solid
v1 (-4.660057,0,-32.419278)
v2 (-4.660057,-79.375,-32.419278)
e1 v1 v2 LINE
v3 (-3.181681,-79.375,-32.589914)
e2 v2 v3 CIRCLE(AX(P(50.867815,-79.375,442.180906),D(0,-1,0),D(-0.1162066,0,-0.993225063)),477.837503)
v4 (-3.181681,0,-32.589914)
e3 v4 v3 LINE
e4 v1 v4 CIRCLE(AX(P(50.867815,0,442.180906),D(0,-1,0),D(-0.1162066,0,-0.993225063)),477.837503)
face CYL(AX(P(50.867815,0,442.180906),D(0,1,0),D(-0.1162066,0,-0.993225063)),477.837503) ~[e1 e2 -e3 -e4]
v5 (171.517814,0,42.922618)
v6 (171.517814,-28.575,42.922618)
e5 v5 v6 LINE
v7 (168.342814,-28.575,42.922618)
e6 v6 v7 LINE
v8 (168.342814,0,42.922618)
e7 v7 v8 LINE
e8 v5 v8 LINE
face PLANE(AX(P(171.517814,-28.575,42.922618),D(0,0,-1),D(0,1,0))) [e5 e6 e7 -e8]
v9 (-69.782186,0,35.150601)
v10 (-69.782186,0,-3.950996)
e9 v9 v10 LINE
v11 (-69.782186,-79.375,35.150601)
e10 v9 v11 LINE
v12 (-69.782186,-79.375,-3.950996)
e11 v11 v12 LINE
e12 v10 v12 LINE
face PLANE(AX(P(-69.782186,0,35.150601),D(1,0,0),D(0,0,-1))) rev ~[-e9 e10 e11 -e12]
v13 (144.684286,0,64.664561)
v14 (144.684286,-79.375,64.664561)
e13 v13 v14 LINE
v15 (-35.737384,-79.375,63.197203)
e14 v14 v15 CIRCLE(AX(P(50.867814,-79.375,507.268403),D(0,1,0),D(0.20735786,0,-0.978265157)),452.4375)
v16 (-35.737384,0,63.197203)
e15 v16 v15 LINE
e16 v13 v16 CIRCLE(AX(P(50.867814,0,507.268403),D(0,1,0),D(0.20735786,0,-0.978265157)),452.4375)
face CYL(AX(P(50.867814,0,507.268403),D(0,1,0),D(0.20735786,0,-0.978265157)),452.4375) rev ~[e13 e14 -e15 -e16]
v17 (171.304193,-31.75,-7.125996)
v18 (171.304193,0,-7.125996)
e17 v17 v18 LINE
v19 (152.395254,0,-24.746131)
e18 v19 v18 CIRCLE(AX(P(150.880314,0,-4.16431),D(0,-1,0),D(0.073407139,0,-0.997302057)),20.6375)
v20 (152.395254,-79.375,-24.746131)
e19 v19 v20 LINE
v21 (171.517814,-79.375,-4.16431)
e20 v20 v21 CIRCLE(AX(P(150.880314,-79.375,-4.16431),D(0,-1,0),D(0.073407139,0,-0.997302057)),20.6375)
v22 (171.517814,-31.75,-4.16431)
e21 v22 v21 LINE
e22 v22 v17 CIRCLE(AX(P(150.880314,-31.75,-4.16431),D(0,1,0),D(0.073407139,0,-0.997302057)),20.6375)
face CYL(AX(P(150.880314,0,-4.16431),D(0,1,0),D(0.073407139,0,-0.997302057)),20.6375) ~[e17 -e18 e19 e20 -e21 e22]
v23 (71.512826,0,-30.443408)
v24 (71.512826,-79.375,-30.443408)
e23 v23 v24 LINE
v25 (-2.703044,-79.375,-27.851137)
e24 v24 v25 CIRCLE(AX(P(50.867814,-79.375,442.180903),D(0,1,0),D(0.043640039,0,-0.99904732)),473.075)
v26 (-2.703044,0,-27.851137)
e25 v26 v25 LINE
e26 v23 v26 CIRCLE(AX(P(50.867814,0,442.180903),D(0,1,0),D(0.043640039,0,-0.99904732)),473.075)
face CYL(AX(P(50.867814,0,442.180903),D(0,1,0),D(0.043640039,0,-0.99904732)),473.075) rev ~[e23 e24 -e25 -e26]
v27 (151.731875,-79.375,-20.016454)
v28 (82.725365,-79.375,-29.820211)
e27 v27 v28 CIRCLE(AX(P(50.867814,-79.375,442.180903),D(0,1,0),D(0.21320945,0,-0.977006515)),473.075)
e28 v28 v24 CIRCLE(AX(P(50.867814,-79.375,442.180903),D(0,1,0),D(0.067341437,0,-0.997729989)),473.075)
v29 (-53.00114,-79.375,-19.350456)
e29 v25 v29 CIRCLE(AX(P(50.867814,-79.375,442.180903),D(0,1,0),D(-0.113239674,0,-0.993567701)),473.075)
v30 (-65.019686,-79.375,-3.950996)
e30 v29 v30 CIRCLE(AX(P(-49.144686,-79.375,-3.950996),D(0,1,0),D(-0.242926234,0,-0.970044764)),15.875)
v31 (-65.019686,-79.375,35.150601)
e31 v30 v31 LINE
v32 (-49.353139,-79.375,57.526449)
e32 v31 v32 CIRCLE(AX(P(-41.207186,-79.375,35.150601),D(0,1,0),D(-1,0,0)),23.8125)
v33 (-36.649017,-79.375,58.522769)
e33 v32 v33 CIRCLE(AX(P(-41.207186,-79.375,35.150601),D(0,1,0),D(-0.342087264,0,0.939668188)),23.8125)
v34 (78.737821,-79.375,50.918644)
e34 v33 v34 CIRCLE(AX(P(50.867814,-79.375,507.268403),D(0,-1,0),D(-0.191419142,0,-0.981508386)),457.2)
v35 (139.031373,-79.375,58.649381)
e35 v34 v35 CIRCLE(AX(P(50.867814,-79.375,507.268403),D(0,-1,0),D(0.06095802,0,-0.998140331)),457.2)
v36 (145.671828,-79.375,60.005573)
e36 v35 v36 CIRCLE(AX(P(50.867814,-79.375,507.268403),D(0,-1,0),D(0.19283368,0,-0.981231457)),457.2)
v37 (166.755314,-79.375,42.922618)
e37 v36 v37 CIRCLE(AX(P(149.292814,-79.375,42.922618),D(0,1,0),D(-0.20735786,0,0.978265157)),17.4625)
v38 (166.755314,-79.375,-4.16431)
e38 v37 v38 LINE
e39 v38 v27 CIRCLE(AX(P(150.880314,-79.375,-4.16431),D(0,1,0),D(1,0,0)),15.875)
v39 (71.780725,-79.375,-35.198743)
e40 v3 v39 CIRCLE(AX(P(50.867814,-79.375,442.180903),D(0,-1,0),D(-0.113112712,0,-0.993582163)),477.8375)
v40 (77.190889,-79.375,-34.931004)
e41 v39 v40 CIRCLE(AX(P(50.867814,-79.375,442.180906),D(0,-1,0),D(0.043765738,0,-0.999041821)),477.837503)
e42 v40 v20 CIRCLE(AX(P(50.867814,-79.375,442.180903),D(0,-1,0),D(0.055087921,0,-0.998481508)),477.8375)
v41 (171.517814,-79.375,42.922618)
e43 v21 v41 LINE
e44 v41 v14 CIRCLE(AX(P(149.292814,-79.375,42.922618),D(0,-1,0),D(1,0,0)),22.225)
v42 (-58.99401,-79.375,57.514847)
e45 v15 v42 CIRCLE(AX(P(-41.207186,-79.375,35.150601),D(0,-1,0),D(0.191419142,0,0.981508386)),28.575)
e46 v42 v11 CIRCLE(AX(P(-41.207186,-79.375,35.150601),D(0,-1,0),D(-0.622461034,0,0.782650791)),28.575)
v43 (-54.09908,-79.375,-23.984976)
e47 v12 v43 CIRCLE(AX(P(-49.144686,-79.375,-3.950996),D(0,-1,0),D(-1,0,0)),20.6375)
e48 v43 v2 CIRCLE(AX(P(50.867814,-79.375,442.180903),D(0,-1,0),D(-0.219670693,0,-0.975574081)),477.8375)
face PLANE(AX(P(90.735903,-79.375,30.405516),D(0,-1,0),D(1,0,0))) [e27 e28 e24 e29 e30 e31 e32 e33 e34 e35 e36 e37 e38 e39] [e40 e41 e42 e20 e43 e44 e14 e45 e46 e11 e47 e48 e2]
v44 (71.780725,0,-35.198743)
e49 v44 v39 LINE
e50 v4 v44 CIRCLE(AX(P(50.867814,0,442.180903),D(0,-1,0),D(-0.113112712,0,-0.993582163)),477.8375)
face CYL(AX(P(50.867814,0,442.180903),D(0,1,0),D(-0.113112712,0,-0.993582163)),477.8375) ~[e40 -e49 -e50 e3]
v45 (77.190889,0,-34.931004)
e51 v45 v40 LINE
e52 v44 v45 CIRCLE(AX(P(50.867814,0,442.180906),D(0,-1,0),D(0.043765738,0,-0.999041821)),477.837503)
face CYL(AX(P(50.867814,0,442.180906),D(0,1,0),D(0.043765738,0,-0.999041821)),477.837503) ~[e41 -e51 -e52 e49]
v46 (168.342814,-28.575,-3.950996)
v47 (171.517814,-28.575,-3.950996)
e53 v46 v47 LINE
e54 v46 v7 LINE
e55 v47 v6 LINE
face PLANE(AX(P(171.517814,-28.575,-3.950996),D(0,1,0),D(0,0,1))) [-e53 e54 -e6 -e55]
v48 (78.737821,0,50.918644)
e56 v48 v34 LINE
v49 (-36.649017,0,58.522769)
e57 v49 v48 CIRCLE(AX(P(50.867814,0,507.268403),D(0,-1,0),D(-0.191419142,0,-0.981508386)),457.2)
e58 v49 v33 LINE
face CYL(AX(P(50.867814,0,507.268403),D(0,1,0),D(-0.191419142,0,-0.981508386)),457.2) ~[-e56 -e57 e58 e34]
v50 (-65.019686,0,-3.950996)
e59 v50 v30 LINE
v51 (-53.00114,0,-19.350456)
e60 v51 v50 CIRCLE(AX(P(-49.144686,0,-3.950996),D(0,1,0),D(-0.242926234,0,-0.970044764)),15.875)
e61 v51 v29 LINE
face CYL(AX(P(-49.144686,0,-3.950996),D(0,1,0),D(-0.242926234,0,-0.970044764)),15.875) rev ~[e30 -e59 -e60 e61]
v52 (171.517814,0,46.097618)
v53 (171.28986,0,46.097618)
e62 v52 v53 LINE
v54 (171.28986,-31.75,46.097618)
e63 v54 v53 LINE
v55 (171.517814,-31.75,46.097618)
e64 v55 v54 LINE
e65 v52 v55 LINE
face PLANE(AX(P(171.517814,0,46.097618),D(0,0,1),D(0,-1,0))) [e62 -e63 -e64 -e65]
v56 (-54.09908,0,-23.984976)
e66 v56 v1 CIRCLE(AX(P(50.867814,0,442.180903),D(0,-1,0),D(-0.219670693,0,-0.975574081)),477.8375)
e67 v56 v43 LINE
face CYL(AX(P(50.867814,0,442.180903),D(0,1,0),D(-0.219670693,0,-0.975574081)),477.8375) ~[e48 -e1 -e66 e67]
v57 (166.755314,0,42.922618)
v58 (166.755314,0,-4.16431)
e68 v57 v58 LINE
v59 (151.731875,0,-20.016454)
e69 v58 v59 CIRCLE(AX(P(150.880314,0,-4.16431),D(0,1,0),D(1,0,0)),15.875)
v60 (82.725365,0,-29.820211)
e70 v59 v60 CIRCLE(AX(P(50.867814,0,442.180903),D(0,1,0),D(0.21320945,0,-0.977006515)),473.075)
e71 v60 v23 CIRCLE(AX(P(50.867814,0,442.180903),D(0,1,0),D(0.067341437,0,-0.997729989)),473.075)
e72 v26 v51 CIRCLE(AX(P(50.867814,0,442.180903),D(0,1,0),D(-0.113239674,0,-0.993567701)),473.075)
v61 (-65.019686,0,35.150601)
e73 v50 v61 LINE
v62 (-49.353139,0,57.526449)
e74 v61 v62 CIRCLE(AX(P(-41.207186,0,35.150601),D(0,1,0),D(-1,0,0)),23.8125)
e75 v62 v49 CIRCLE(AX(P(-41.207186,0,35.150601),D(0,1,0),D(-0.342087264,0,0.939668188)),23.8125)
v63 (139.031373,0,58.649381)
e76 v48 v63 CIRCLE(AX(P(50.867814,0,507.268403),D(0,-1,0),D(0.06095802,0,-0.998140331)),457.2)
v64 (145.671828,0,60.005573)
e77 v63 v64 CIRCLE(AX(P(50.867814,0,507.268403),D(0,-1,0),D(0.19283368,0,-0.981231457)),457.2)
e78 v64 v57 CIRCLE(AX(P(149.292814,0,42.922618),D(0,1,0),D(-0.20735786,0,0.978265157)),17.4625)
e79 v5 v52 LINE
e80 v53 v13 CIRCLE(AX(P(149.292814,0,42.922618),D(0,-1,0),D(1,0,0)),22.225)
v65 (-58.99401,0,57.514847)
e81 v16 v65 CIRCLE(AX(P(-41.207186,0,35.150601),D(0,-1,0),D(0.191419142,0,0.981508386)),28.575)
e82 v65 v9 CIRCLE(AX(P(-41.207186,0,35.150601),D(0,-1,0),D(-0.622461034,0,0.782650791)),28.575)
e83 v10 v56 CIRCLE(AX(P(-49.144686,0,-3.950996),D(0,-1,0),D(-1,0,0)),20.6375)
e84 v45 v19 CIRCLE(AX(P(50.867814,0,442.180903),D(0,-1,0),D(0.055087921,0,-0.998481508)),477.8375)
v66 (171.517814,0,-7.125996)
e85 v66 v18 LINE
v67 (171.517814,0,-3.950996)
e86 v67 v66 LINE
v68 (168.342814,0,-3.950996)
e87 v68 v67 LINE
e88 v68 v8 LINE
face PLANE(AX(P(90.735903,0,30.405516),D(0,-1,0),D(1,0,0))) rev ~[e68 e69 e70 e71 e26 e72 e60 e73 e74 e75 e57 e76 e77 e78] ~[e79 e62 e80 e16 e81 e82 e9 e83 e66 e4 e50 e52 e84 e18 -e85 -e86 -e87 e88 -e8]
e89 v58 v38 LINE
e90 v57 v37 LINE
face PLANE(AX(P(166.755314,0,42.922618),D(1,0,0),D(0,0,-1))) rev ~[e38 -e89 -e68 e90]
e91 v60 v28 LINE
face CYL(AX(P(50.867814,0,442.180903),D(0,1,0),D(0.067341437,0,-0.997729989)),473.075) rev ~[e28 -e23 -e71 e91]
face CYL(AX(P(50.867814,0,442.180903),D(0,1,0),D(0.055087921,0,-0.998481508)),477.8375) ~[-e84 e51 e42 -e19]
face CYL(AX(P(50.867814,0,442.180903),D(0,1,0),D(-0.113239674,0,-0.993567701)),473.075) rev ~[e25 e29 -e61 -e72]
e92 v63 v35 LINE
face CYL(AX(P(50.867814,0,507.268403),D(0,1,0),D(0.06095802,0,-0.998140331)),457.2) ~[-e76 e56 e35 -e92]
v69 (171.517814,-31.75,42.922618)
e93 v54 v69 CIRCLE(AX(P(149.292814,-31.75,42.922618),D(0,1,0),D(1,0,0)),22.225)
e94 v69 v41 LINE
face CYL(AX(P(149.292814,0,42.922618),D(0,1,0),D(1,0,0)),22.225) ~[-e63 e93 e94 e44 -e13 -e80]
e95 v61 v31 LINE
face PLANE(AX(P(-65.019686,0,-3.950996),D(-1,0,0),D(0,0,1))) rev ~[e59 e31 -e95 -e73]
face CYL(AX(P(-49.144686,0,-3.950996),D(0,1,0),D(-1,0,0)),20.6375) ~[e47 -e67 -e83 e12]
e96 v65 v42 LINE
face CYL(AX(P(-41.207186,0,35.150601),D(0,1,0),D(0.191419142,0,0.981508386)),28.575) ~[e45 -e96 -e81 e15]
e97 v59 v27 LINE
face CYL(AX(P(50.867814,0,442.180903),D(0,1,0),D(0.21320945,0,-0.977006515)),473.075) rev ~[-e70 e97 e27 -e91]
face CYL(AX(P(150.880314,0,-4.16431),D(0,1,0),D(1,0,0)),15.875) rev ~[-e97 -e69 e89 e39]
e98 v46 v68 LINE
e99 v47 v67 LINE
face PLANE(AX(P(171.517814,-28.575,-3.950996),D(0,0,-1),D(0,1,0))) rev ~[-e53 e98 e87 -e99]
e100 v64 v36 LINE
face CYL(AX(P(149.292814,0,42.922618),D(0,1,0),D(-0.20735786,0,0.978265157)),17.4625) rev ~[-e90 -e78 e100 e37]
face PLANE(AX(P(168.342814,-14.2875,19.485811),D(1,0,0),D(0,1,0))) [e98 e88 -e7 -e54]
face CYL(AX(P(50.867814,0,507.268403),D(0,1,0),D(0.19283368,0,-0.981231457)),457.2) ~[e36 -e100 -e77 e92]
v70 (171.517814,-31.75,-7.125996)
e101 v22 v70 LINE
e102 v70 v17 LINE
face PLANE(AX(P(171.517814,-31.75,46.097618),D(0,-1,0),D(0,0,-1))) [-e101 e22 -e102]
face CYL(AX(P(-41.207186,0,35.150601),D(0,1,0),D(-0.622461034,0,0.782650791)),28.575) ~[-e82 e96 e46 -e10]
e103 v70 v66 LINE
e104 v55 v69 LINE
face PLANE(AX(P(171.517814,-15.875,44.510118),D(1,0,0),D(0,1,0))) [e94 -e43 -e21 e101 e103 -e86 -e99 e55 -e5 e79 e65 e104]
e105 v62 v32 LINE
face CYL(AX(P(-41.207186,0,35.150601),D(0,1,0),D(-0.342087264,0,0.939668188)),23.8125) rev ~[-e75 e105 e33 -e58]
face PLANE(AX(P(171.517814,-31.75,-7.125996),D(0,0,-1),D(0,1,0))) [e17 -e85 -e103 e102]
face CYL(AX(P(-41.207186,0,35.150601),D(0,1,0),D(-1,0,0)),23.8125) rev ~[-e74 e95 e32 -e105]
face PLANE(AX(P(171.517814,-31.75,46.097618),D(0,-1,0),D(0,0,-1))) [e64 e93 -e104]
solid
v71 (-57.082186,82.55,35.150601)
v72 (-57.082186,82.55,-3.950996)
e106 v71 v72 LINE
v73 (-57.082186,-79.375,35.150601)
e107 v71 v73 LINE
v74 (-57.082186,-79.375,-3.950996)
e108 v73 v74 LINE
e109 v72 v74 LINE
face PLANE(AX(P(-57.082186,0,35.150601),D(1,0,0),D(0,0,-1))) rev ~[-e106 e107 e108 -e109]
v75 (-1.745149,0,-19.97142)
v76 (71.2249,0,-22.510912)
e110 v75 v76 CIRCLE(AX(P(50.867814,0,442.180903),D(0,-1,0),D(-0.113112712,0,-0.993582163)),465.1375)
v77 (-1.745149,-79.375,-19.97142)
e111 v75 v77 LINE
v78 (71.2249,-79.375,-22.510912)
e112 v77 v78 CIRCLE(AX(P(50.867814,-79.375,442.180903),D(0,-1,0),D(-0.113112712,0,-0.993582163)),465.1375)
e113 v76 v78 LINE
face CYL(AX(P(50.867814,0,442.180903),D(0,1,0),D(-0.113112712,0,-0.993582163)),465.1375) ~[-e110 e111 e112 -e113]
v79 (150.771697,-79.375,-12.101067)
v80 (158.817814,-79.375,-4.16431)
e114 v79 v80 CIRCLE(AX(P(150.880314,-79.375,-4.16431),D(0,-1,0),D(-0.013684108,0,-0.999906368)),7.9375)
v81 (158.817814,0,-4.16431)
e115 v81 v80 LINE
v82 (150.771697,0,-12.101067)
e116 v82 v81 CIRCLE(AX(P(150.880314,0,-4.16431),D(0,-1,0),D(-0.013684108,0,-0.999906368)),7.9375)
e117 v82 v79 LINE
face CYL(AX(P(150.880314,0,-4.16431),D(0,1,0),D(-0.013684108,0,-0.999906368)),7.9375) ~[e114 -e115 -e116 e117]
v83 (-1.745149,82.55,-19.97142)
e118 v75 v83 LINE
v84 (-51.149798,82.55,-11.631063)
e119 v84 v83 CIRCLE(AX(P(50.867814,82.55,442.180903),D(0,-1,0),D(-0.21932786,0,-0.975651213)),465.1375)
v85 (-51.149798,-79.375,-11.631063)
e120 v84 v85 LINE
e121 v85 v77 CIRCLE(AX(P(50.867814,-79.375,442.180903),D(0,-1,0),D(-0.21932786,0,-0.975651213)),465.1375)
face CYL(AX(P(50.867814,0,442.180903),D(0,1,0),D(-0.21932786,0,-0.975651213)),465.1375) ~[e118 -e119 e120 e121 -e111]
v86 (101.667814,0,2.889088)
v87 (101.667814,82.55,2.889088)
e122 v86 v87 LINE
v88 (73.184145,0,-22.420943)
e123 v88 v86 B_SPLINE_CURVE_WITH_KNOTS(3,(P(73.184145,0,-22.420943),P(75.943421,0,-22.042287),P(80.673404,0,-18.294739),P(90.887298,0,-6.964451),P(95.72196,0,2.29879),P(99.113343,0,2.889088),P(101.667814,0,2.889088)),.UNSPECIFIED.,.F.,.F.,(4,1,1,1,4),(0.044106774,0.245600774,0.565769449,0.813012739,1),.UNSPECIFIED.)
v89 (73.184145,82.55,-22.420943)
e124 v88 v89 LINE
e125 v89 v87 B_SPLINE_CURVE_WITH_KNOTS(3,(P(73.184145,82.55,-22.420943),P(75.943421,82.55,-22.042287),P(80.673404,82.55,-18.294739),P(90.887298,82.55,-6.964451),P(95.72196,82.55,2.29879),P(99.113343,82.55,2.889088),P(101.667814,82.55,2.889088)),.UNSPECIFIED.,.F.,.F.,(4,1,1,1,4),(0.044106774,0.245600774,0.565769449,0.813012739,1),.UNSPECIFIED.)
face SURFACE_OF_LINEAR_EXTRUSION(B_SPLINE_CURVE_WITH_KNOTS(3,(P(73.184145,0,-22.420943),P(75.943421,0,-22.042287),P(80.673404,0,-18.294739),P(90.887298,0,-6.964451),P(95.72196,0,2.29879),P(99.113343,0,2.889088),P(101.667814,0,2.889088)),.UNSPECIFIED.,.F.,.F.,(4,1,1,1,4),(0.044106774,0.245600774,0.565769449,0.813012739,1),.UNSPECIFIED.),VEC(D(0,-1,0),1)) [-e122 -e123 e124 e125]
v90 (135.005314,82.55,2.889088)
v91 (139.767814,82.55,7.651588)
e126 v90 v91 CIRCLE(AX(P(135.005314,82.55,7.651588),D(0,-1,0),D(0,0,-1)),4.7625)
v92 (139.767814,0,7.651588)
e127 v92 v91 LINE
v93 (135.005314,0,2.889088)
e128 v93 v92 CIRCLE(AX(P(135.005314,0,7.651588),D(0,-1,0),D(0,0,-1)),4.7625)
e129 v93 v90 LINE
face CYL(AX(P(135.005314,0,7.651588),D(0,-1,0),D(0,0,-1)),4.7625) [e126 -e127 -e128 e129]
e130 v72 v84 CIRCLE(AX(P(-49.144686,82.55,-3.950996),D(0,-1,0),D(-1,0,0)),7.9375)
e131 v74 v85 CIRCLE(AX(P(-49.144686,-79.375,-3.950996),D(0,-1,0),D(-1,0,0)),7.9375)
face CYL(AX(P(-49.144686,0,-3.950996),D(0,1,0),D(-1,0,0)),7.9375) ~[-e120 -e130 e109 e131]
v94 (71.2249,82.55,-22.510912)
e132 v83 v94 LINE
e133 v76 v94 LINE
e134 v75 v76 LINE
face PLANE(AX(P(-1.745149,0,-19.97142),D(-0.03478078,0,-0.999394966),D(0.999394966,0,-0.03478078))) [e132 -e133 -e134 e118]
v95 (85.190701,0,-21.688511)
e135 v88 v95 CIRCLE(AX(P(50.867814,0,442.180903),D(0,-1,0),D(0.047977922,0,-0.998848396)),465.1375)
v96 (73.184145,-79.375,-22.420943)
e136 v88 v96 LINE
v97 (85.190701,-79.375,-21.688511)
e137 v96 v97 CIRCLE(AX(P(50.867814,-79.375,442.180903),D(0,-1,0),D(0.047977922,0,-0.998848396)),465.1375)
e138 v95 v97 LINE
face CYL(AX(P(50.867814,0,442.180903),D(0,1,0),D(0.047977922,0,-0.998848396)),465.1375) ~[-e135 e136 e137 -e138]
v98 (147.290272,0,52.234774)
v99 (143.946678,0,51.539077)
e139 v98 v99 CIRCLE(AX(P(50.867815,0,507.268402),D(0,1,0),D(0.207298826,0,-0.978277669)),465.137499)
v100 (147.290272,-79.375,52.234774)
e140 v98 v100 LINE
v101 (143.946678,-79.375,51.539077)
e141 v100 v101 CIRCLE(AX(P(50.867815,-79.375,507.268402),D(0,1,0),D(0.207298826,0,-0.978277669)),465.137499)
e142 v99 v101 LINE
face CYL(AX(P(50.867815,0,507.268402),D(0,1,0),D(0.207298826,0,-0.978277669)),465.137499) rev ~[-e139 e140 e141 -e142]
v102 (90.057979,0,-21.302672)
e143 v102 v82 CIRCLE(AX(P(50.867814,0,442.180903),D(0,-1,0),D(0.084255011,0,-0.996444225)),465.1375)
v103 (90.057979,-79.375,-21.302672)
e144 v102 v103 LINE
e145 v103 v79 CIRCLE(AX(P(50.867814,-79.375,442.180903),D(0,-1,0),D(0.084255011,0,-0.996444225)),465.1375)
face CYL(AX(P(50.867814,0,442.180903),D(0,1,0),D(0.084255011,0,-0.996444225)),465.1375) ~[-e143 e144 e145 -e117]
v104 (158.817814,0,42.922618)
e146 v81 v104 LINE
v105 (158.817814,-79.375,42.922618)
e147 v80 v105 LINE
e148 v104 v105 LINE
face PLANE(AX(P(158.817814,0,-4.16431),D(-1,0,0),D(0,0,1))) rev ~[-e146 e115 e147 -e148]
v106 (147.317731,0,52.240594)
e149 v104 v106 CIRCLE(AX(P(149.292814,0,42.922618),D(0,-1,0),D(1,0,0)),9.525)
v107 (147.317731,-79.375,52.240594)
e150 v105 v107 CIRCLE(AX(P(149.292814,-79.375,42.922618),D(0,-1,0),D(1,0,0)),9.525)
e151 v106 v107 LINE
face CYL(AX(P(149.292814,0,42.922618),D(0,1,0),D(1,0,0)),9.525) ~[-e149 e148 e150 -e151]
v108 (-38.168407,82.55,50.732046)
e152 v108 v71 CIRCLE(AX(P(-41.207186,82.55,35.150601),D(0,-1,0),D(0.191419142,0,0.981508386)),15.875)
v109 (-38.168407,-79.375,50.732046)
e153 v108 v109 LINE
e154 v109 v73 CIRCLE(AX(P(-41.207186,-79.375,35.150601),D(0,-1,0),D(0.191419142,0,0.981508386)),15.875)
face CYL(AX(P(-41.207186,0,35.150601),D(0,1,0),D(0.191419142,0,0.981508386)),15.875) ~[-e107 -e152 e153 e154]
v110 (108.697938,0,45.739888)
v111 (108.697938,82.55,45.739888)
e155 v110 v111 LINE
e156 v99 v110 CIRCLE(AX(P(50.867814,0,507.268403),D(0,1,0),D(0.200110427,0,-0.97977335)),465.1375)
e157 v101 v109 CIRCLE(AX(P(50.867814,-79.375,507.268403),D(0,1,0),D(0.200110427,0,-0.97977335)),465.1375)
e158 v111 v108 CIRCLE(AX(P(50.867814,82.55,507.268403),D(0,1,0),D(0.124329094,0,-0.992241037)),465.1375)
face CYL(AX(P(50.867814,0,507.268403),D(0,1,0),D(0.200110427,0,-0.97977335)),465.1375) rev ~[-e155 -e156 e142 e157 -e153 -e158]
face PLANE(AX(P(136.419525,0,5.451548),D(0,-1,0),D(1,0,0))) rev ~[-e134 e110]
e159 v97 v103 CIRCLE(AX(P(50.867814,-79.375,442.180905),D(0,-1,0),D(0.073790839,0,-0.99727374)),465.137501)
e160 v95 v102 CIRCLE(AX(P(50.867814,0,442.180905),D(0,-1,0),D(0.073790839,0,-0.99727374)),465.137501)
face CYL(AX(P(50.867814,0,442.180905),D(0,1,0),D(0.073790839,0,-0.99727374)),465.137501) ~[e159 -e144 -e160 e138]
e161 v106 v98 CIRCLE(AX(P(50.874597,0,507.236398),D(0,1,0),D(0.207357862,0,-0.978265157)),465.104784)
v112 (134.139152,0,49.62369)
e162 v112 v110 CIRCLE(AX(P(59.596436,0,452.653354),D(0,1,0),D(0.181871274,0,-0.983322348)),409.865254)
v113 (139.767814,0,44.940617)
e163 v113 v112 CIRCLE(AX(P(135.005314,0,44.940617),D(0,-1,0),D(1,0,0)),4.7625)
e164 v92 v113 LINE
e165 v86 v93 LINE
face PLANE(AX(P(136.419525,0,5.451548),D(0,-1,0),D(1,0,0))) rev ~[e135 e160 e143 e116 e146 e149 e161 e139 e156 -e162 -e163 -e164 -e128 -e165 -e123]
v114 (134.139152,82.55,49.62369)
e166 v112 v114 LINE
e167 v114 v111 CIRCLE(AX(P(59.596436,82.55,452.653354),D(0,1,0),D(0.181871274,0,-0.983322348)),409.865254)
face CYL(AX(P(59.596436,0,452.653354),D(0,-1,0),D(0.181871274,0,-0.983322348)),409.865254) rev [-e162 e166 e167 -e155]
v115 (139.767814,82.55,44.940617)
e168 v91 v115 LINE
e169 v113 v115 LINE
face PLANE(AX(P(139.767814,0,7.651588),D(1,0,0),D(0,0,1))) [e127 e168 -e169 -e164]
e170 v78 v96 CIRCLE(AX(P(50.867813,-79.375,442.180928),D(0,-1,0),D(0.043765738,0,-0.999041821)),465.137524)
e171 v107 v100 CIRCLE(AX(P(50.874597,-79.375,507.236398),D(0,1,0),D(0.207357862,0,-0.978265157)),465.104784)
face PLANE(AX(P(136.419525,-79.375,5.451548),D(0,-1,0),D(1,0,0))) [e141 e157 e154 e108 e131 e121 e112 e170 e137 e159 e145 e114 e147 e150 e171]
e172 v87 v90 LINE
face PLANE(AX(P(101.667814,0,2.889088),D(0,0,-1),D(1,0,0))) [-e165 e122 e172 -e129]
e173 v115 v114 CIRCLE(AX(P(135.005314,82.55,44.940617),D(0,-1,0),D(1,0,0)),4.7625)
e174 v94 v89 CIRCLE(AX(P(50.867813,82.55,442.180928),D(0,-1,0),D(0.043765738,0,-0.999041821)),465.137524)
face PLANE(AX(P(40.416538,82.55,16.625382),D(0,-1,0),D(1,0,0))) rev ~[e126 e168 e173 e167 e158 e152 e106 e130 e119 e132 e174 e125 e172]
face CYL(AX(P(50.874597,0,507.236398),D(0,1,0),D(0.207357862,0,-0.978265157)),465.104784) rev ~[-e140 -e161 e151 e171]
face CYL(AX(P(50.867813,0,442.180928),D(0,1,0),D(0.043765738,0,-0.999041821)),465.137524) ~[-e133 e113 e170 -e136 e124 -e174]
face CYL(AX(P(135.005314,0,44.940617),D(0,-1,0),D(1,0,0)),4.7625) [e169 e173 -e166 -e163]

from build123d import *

# Parameters (mm, degrees)
F1_DEPTH = 82.55
F2_DEPTH = 79.375
F3_DEPTH = 79.375
F4_W     = 28.575
F4_H     = 46.8736138582
F5_DEPTH = 3.175
F4_W_2   = 31.75
F4_H_2   = 2.9616859944
F6_DEPTH = 2.54


with BuildPart() as f1:
    # F0 (on Front) → F1 (new body)
    with BuildSketch(Plane.XZ):
        with BuildLine():
            ThreePointArc((-38.1684067206, 50.7320462984), (-51.3011196758, 47.4032787363), (-57.0821855985, 35.1506006681))
            Line((-57.0821855985, 35.1506006681), (-57.0821855985, -3.9509958427))
            ThreePointArc((-57.0821855985, -3.9509958427), (-55.426384653, -8.8032286523), (-51.1497980108, -11.6310629299))
            ThreePointArc((-51.1497980108, -11.6310629299), (-26.559856165, -16.4669461082), (-1.7451494661, -19.9714200409))
            Line((-1.7451494661, -19.9714200409), (71.2249001265, -22.5109117746))
            ThreePointArc((71.2249001265, -22.5109117746), (72.2045700448, -22.4669599202), (73.1841451216, -22.4209427141))
            add(Edge.make_bspline(
                [(73.1841451216, -22.4209427141), (75.9434207871, -22.0422865359), (80.6734041506, -18.2947392446), (90.8872982521, -6.9644507778), (95.7219598854, 2.2987896539), (99.1133427614, 2.8890882254), (101.6678144015, 2.8890882254)],
                knots=[0.0441067744, 0.0441067744, 0.0441067744, 0.0441067744, 0.2456007741, 0.565769449, 0.8130127393, 1, 1, 1, 1], degree=3))
            Line((101.6678144015, 2.8890882254), (135.0053144015, 2.8890882254))
            ThreePointArc((135.0053144015, 2.8890882254), (138.3729104469, 4.28399218), (139.7678144015, 7.6515882254))
            Line((139.7678144015, 7.6515882254), (139.7678144015, 44.94061737))
            ThreePointArc((139.7678144015, 44.94061737), (138.0513208027, 48.601662474), (134.1391524576, 49.6236900511))
            ThreePointArc((134.1391524576, 49.6236900511), (121.4490364743, 47.4820539253), (108.6979382545, 45.7398877005))
            ThreePointArc((108.6979382545, 45.7398877005), (35.0663733736, 42.3993804581), (-38.1684067206, 50.7320462984))
        make_face()
    extrude(amount=-F1_DEPTH)

    # F0 (on Front) → F2 (join)
    with BuildSketch(Plane.XZ):
        with BuildLine():
            ThreePointArc((147.3177307895, 52.2405936393), (147.3040014388, 52.2376837155), (147.2902720004, 52.234774206))
            ThreePointArc((147.2902720004, 52.234774206), (148.7826730727, 48.7227814214), (149.2922567745, 44.9410253836))
            Line((149.2922567745, 44.9410253836), (149.2922567745, 7.651996239))
            ThreePointArc((149.2922567745, 7.651996239), (145.1075449107, -2.4507918972), (135.0047567745, -6.635503761))
            Line((135.0047567745, -6.635503761), (102.1617779669, -6.635503761))
            ThreePointArc((102.1617779669, -6.635503761), (101.7226719352, -6.7408371438), (101.3791365615, -7.0339116663))
            add(Edge.make_bspline(
                [(90.05797947, -21.3026723511), (91.3235592577, -19.9245232349), (94.9091214249, -16.0037133084), (98.8124235031, -10.5114004565), (100.7070874629, -7.957457618), (101.3791365615, -7.0339116663)],
                knots=[0.5378357414, 0.5378357414, 0.5378357414, 0.5378357414, 0.6467666082, 0.855418257, 0.9817631457, 0.9817631457, 0.9817631457, 0.9817631457], degree=3))
            ThreePointArc((90.05797947, -21.3026723511), (120.5668523927, -17.704884738), (150.7716967973, -12.1010666461))
            ThreePointArc((150.7716967973, -12.1010666461), (156.4544400736, -9.8152415628), (158.8178144015, -4.1643098484))
            Line((158.8178144015, -4.1643098484), (158.8178144015, 42.9226180155))
            ThreePointArc((158.8178144015, 42.9226180155), (155.2891863711, 50.3232361115), (147.3177307895, 52.2405936393))
        make_face()
        with BuildLine():
            ThreePointArc((-38.1684067206, 50.7320462984), (-51.3011196758, 47.4032787363), (-57.0821855985, 35.1506006681))
            Line((-57.0821855985, 35.1506006681), (-57.0821855985, -3.9509958427))
            ThreePointArc((-57.0821855985, -3.9509958427), (-55.426384653, -8.8032286523), (-51.1497980108, -11.6310629299))
            ThreePointArc((-51.1497980108, -11.6310629299), (-26.559856165, -16.4669461082), (-1.7451494661, -19.9714200409))
            Line((-1.7451494661, -19.9714200409), (71.2249001265, -22.5109117746))
            ThreePointArc((71.2249001265, -22.5109117746), (72.2045700448, -22.4669599202), (73.1841451216, -22.4209427141))
            add(Edge.make_bspline(
                [(73.1841451216, -22.4209427141), (75.9434207871, -22.0422865359), (80.6734041506, -18.2947392446), (90.8872982521, -6.9644507778), (95.7219598854, 2.2987896539), (99.1133427614, 2.8890882254), (101.6678144015, 2.8890882254)],
                knots=[0.0441067744, 0.0441067744, 0.0441067744, 0.0441067744, 0.2456007741, 0.565769449, 0.8130127393, 1, 1, 1, 1], degree=3))
            Line((101.6678144015, 2.8890882254), (135.0053144015, 2.8890882254))
            ThreePointArc((135.0053144015, 2.8890882254), (138.3729104469, 4.28399218), (139.7678144015, 7.6515882254))
            Line((139.7678144015, 7.6515882254), (139.7678144015, 44.94061737))
            ThreePointArc((139.7678144015, 44.94061737), (138.0513208027, 48.601662474), (134.1391524576, 49.6236900511))
            ThreePointArc((134.1391524576, 49.6236900511), (121.4490364743, 47.4820539253), (108.6979382545, 45.7398877005))
            ThreePointArc((108.6979382545, 45.7398877005), (35.0663733736, 42.3993804581), (-38.1684067206, 50.7320462984))
        make_face()
        with BuildLine():
            Line((71.2249001265, -22.5109117746), (-1.7451494661, -19.9714200409))
            ThreePointArc((-1.7451494661, -19.9714200409), (34.6899692652, -22.6751725593), (71.2249001265, -22.5109117746))
        make_face()
        with BuildLine():
            ThreePointArc((143.9466783497, 51.5390768111), (126.3780011208, 48.30096912), (108.6979382545, 45.7398877005))
            ThreePointArc((108.6979382545, 45.7398877005), (121.4490364743, 47.4820539253), (134.1391524576, 49.6236900511))
            ThreePointArc((134.1391524576, 49.6236900511), (138.0513208027, 48.601662474), (139.7678144015, 44.94061737))
            Line((139.7678144015, 44.94061737), (139.7678144015, 7.6515882254))
            ThreePointArc((139.7678144015, 7.6515882254), (138.3729104469, 4.28399218), (135.0053144015, 2.8890882254))
            Line((135.0053144015, 2.8890882254), (101.6678144015, 2.8890882254))
            add(Edge.make_bspline(
                [(73.1841451216, -22.4209427141), (75.9434207871, -22.0422865359), (80.6734041506, -18.2947392446), (90.8872982521, -6.9644507778), (95.7219598854, 2.2987896539), (99.1133427614, 2.8890882254), (101.6678144015, 2.8890882254)],
                knots=[0.0441067744, 0.0441067744, 0.0441067744, 0.0441067744, 0.2456007741, 0.565769449, 0.8130127393, 1, 1, 1, 1], degree=3))
            ThreePointArc((73.1841451216, -22.4209427141), (79.189790649, -22.0935409654), (85.1907006417, -21.6885108853))
            add(Edge.make_bspline(
                [(85.1907006417, -21.6885108853), (85.3316562723, -21.546462386), (85.8592303139, -21.0108280896), (86.9005771439, -19.9219148207), (88.3189595642, -18.3981317715), (89.8468892478, -16.6679338884), (91.2112293455, -15.0269591754), (92.3641231363, -13.5963023763), (93.2389828574, -12.4562530137), (93.9140957607, -11.541767885), (94.4607060458, -10.7839701191), (94.9813999105, -10.0361040759), (95.5722075611, -9.1680828129), (96.248718327, -8.136755973), (96.9465700319, -7.0524296173), (97.6135099851, -6.0251623137), (98.2059629092, -5.1532398321), (98.689548654, -4.4904265896), (99.0533959756, -4.0628569433), (99.2758382521, -3.8343000024), (99.3994163915, -3.7241747659), (99.4644281546, -3.6700686469), (99.4988744243, -3.6524085927), (99.5407899606, -3.6191426696), (99.7042749, -3.5807788078), (100.0746003699, -3.5046651117), (100.6402444361, -3.4687488654), (101.2024357983, -3.4597335005), (101.5434034733, -3.4608528823), (101.6678144015, -3.4609117746)],
                knots=[16.4433649886, 16.4433649886, 16.4433649886, 16.4433649886, 17.0437041267, 18.6987987543, 20.9632669056, 23.2886140279, 25.6225249388, 27.3648826032, 28.8004402381, 29.933251019, 30.7748606247, 31.6034468712, 32.6670003796, 33.9247844246, 35.3035189307, 36.5355216577, 37.5988903701, 38.4660558512, 38.9951195454, 39.2820824127, 39.4215161623, 39.4921562657, 39.5348392388, 39.5367058687, 39.65261617, 40.0198626541, 40.6886532702, 41.3372818098, 41.7106892785, 41.7106892785, 41.7106892785, 41.7106892785], degree=3))
            Line((101.6678144015, -3.4609117746), (135.0053144015, -3.4609117746))
            ThreePointArc((135.0053144015, -3.4609117746), (142.8630385075, -0.2061358805), (146.1178144015, 7.6515882254))
            Line((146.1178144015, 7.6515882254), (146.1178144015, 44.94061737))
            ThreePointArc((146.1178144015, 44.94061737), (145.5610844616, 48.4138542879), (143.9466783497, 51.5390768111))
        make_face()
        with BuildLine():
            ThreePointArc((147.2902720004, 52.234774206), (145.6191136841, 51.883856768), (143.9466783497, 51.5390768111))
            ThreePointArc((143.9466783497, 51.5390768111), (145.5610844616, 48.4138542879), (146.1178144015, 44.94061737))
            Line((146.1178144015, 44.94061737), (146.1178144015, 7.6515882254))
            ThreePointArc((146.1178144015, 7.6515882254), (142.8630385075, -0.2061358805), (135.0053144015, -3.4609117746))
            Line((135.0053144015, -3.4609117746), (101.6678144015, -3.4609117746))
            add(Edge.make_bspline(
                [(85.1907006417, -21.6885108853), (85.3316562723, -21.546462386), (85.8592303139, -21.0108280896), (86.9005771439, -19.9219148207), (88.3189595642, -18.3981317715), (89.8468892478, -16.6679338884), (91.2112293455, -15.0269591754), (92.3641231363, -13.5963023763), (93.2389828574, -12.4562530137), (93.9140957607, -11.541767885), (94.4607060458, -10.7839701191), (94.9813999105, -10.0361040759), (95.5722075611, -9.1680828129), (96.248718327, -8.136755973), (96.9465700319, -7.0524296173), (97.6135099851, -6.0251623137), (98.2059629092, -5.1532398321), (98.689548654, -4.4904265896), (99.0533959756, -4.0628569433), (99.2758382521, -3.8343000024), (99.3994163915, -3.7241747659), (99.4644281546, -3.6700686469), (99.4988744243, -3.6524085927), (99.5407899606, -3.6191426696), (99.7042749, -3.5807788078), (100.0746003699, -3.5046651117), (100.6402444361, -3.4687488654), (101.2024357983, -3.4597335005), (101.5434034733, -3.4608528823), (101.6678144015, -3.4609117746)],
                knots=[16.4433649886, 16.4433649886, 16.4433649886, 16.4433649886, 17.0437041267, 18.6987987543, 20.9632669056, 23.2886140279, 25.6225249388, 27.3648826032, 28.8004402381, 29.933251019, 30.7748606247, 31.6034468712, 32.6670003796, 33.9247844246, 35.3035189307, 36.5355216577, 37.5988903701, 38.4660558512, 38.9951195454, 39.2820824127, 39.4215161623, 39.4921562657, 39.5348392388, 39.5367058687, 39.65261617, 40.0198626541, 40.6886532702, 41.3372818098, 41.7106892785, 41.7106892785, 41.7106892785, 41.7106892785], degree=3))
            ThreePointArc((85.1907006417, -21.6885108853), (87.6248463277, -21.5019781399), (90.05797947, -21.3026723511))
            add(Edge.make_bspline(
                [(90.05797947, -21.3026723511), (91.3235592577, -19.9245232349), (94.9091214249, -16.0037133084), (98.8124235031, -10.5114004565), (100.7070874629, -7.957457618), (101.3791365615, -7.0339116663)],
                knots=[0.5378357414, 0.5378357414, 0.5378357414, 0.5378357414, 0.6467666082, 0.855418257, 0.9817631457, 0.9817631457, 0.9817631457, 0.9817631457], degree=3))
            ThreePointArc((101.3791365615, -7.0339116663), (101.7226719352, -6.7408371438), (102.1617779669, -6.635503761))
            Line((102.1617779669, -6.635503761), (135.0047567745, -6.635503761))
            ThreePointArc((135.0047567745, -6.635503761), (145.1075449107, -2.4507918972), (149.2922567745, 7.651996239))
            Line((149.2922567745, 7.651996239), (149.2922567745, 44.9410253836))
            ThreePointArc((149.2922567745, 44.9410253836), (148.7826730727, 48.7227814214), (147.2902720004, 52.234774206))
        make_face()
    extrude(amount=F2_DEPTH)


with BuildPart() as f3:
    # F0 (on Front) → F3 (new body, through all)
    with BuildSketch(Plane.XZ):
        with BuildLine():
            ThreePointArc((132.4062709427, 58.990243427), (135.738879221, 59.2096525244), (139.0313728552, 58.6493812))
            ThreePointArc((139.0313728552, 58.6493812), (142.3541133744, 59.3151723379), (145.6718277794, 60.0055733258))
            ThreePointArc((145.6718277794, 60.0055733258), (160.2861630124, 56.4904178581), (166.7553144015, 42.9226180155))
            Line((166.7553144015, 42.9226180155), (166.7553144015, -4.1643098484))
            ThreePointArc((166.7553144015, -4.1643098484), (162.4027739248, -15.0844083614), (151.7318748381, -20.0164538618))
            ThreePointArc((151.7318748381, -20.0164538618), (117.4094171072, -26.1909263021), (82.7253645007, -29.8202112722))
            add(Edge.make_bspline(
                [(77.1908889413, -34.9310041013), (79.0586963991, -34.1575165718), (80.8680638127, -32.1097305181), (82.7253645007, -29.8202112722)],
                knots=[0.162211173, 0.162211173, 0.162211173, 0.162211173, 0.327643252, 0.327643252, 0.327643252, 0.327643252], degree=3))
            ThreePointArc((77.1908889413, -34.9310041013), (114.9955885429, -31.3339380944), (152.3952542371, -24.7461310395))
            ThreePointArc((152.3952542371, -24.7461310395), (165.9993583049, -18.2114062635), (171.5178144015, -4.1643098484))
            Line((171.5178144015, -4.1643098484), (171.5178144015, 42.9226180155))
            ThreePointArc((171.5178144015, 42.9226180155), (163.2843489972, 60.1907269061), (144.6842859734, 64.6645611377))
            ThreePointArc((144.6842859734, 64.6645611377), (54.5473390558, 54.8458656938), (-35.7373836183, 63.1972028027))
            ThreePointArc((-35.7373836183, 63.1972028027), (-47.9894824097, 62.9090421763), (-58.9940096578, 57.5148470198))
            ThreePointArc((-58.9940096578, 57.5148470198), (-54.1741296377, 57.9822564385), (-49.3531385655, 57.5264494008))
            ThreePointArc((-49.3531385655, 57.5264494008), (-43.0689624156, 58.8902077274), (-36.6490172816, 58.5227691136))
            ThreePointArc((-36.6490172816, 58.5227691136), (20.8030241166, 51.0579820963), (78.7378210089, 50.9186440567))
            ThreePointArc((78.7378210089, 50.9186440567), (105.6923376876, 54.1546184016), (132.4062709427, 58.990243427))
        make_face()
        with BuildLine():
            ThreePointArc((78.7378210089, 50.9186440567), (109.0132194598, 53.780860031), (139.0313728552, 58.6493812))
            ThreePointArc((139.0313728552, 58.6493812), (135.738879221, 59.2096525244), (132.4062709427, 58.990243427))
            ThreePointArc((132.4062709427, 58.990243427), (105.6923376876, 54.1546184016), (78.7378210089, 50.9186440567))
        make_face()
        with BuildLine():
            add(Edge.make_bspline(
                [(77.1908889413, -34.9310041013), (79.0586963991, -34.1575165718), (80.8680638127, -32.1097305181), (82.7253645007, -29.8202112722)],
                knots=[0.162211173, 0.162211173, 0.162211173, 0.162211173, 0.327643252, 0.327643252, 0.327643252, 0.327643252], degree=3))
            ThreePointArc((82.7253645007, -29.8202112722), (77.1209443112, -30.1650809379), (71.5128256368, -30.4434075081))
            ThreePointArc((71.5128256368, -30.4434075081), (34.3539466955, -30.605779919), (-2.703044418, -27.8511368217))
            ThreePointArc((-2.703044418, -27.8511368217), (-27.9667532328, -24.2792414083), (-53.0011395648, -19.3504564763))
            ThreePointArc((-53.0011395648, -19.3504564763), (-61.6594135563, -13.7181453318), (-65.0196855985, -3.9509958427))
            Line((-65.0196855985, -3.9509958427), (-65.0196855985, 35.1506006681))
            ThreePointArc((-65.0196855985, 35.1506006681), (-60.7137314393, 48.8081929014), (-49.3531385655, 57.5264494008))
            ThreePointArc((-49.3531385655, 57.5264494008), (-54.1741296377, 57.9822564385), (-58.9940096578, 57.5148470198))
            ThreePointArc((-58.9940096578, 57.5148470198), (-66.9442126461, 47.5657552685), (-69.7821855985, 35.1506006681))
            Line((-69.7821855985, 35.1506006681), (-69.7821855985, -3.9509958427))
            ThreePointArc((-69.7821855985, -3.9509958427), (-65.3951121534, -16.6722396119), (-54.0990802773, -23.9849764661))
            ThreePointArc((-54.0990802773, -23.9849764661), (-29.4903018523, -28.8512076957), (-4.6600570397, -32.4192778318))
            ThreePointArc((-4.6600570397, -32.4192778318), (-3.9209354004, -32.5051712085), (-3.1816809027, -32.5899135101))
            ThreePointArc((-3.1816809027, -32.5899135101), (34.2482533571, -35.3674886228), (71.7807249927, -35.198742902))
            ThreePointArc((71.7807249927, -35.198742902), (74.4861863572, -35.0725397923), (77.1908889413, -34.9310041013))
        make_face()
    extrude(amount=F3_DEPTH)

    # F4 (on face) → F5 (cut)
    with BuildSketch(Plane.YZ.offset(171.5178144015)):
        with Locations((-14.2875, 19.4858110864)):
            Rectangle(F4_W, F4_H)
    extrude(amount=-F5_DEPTH, mode=Mode.SUBTRACT)

    # F4 (on face) → F6 (join)
    with BuildSketch(Plane.YZ.offset(171.5178144015)):
        Polygon((-28.575, 42.9226180155), (0, 42.9226180155), (0, 46.0976180155), (-31.75, 46.0976180155), (-31.75, 42.9226180155), align=None)
        Polygon((-28.575, -3.9509958427), (-28.575, 42.9226180155), (-31.75, 42.9226180155), (-31.75, -4.1643098484), (0, -4.1643098484), (0, -3.9509958427), align=None)
        with Locations((-15.875, -5.6451528456)):
            Rectangle(F4_W_2, F4_H_2)
    extrude(amount=-F6_DEPTH)


solid = Compound([f1.part, f3.part])
